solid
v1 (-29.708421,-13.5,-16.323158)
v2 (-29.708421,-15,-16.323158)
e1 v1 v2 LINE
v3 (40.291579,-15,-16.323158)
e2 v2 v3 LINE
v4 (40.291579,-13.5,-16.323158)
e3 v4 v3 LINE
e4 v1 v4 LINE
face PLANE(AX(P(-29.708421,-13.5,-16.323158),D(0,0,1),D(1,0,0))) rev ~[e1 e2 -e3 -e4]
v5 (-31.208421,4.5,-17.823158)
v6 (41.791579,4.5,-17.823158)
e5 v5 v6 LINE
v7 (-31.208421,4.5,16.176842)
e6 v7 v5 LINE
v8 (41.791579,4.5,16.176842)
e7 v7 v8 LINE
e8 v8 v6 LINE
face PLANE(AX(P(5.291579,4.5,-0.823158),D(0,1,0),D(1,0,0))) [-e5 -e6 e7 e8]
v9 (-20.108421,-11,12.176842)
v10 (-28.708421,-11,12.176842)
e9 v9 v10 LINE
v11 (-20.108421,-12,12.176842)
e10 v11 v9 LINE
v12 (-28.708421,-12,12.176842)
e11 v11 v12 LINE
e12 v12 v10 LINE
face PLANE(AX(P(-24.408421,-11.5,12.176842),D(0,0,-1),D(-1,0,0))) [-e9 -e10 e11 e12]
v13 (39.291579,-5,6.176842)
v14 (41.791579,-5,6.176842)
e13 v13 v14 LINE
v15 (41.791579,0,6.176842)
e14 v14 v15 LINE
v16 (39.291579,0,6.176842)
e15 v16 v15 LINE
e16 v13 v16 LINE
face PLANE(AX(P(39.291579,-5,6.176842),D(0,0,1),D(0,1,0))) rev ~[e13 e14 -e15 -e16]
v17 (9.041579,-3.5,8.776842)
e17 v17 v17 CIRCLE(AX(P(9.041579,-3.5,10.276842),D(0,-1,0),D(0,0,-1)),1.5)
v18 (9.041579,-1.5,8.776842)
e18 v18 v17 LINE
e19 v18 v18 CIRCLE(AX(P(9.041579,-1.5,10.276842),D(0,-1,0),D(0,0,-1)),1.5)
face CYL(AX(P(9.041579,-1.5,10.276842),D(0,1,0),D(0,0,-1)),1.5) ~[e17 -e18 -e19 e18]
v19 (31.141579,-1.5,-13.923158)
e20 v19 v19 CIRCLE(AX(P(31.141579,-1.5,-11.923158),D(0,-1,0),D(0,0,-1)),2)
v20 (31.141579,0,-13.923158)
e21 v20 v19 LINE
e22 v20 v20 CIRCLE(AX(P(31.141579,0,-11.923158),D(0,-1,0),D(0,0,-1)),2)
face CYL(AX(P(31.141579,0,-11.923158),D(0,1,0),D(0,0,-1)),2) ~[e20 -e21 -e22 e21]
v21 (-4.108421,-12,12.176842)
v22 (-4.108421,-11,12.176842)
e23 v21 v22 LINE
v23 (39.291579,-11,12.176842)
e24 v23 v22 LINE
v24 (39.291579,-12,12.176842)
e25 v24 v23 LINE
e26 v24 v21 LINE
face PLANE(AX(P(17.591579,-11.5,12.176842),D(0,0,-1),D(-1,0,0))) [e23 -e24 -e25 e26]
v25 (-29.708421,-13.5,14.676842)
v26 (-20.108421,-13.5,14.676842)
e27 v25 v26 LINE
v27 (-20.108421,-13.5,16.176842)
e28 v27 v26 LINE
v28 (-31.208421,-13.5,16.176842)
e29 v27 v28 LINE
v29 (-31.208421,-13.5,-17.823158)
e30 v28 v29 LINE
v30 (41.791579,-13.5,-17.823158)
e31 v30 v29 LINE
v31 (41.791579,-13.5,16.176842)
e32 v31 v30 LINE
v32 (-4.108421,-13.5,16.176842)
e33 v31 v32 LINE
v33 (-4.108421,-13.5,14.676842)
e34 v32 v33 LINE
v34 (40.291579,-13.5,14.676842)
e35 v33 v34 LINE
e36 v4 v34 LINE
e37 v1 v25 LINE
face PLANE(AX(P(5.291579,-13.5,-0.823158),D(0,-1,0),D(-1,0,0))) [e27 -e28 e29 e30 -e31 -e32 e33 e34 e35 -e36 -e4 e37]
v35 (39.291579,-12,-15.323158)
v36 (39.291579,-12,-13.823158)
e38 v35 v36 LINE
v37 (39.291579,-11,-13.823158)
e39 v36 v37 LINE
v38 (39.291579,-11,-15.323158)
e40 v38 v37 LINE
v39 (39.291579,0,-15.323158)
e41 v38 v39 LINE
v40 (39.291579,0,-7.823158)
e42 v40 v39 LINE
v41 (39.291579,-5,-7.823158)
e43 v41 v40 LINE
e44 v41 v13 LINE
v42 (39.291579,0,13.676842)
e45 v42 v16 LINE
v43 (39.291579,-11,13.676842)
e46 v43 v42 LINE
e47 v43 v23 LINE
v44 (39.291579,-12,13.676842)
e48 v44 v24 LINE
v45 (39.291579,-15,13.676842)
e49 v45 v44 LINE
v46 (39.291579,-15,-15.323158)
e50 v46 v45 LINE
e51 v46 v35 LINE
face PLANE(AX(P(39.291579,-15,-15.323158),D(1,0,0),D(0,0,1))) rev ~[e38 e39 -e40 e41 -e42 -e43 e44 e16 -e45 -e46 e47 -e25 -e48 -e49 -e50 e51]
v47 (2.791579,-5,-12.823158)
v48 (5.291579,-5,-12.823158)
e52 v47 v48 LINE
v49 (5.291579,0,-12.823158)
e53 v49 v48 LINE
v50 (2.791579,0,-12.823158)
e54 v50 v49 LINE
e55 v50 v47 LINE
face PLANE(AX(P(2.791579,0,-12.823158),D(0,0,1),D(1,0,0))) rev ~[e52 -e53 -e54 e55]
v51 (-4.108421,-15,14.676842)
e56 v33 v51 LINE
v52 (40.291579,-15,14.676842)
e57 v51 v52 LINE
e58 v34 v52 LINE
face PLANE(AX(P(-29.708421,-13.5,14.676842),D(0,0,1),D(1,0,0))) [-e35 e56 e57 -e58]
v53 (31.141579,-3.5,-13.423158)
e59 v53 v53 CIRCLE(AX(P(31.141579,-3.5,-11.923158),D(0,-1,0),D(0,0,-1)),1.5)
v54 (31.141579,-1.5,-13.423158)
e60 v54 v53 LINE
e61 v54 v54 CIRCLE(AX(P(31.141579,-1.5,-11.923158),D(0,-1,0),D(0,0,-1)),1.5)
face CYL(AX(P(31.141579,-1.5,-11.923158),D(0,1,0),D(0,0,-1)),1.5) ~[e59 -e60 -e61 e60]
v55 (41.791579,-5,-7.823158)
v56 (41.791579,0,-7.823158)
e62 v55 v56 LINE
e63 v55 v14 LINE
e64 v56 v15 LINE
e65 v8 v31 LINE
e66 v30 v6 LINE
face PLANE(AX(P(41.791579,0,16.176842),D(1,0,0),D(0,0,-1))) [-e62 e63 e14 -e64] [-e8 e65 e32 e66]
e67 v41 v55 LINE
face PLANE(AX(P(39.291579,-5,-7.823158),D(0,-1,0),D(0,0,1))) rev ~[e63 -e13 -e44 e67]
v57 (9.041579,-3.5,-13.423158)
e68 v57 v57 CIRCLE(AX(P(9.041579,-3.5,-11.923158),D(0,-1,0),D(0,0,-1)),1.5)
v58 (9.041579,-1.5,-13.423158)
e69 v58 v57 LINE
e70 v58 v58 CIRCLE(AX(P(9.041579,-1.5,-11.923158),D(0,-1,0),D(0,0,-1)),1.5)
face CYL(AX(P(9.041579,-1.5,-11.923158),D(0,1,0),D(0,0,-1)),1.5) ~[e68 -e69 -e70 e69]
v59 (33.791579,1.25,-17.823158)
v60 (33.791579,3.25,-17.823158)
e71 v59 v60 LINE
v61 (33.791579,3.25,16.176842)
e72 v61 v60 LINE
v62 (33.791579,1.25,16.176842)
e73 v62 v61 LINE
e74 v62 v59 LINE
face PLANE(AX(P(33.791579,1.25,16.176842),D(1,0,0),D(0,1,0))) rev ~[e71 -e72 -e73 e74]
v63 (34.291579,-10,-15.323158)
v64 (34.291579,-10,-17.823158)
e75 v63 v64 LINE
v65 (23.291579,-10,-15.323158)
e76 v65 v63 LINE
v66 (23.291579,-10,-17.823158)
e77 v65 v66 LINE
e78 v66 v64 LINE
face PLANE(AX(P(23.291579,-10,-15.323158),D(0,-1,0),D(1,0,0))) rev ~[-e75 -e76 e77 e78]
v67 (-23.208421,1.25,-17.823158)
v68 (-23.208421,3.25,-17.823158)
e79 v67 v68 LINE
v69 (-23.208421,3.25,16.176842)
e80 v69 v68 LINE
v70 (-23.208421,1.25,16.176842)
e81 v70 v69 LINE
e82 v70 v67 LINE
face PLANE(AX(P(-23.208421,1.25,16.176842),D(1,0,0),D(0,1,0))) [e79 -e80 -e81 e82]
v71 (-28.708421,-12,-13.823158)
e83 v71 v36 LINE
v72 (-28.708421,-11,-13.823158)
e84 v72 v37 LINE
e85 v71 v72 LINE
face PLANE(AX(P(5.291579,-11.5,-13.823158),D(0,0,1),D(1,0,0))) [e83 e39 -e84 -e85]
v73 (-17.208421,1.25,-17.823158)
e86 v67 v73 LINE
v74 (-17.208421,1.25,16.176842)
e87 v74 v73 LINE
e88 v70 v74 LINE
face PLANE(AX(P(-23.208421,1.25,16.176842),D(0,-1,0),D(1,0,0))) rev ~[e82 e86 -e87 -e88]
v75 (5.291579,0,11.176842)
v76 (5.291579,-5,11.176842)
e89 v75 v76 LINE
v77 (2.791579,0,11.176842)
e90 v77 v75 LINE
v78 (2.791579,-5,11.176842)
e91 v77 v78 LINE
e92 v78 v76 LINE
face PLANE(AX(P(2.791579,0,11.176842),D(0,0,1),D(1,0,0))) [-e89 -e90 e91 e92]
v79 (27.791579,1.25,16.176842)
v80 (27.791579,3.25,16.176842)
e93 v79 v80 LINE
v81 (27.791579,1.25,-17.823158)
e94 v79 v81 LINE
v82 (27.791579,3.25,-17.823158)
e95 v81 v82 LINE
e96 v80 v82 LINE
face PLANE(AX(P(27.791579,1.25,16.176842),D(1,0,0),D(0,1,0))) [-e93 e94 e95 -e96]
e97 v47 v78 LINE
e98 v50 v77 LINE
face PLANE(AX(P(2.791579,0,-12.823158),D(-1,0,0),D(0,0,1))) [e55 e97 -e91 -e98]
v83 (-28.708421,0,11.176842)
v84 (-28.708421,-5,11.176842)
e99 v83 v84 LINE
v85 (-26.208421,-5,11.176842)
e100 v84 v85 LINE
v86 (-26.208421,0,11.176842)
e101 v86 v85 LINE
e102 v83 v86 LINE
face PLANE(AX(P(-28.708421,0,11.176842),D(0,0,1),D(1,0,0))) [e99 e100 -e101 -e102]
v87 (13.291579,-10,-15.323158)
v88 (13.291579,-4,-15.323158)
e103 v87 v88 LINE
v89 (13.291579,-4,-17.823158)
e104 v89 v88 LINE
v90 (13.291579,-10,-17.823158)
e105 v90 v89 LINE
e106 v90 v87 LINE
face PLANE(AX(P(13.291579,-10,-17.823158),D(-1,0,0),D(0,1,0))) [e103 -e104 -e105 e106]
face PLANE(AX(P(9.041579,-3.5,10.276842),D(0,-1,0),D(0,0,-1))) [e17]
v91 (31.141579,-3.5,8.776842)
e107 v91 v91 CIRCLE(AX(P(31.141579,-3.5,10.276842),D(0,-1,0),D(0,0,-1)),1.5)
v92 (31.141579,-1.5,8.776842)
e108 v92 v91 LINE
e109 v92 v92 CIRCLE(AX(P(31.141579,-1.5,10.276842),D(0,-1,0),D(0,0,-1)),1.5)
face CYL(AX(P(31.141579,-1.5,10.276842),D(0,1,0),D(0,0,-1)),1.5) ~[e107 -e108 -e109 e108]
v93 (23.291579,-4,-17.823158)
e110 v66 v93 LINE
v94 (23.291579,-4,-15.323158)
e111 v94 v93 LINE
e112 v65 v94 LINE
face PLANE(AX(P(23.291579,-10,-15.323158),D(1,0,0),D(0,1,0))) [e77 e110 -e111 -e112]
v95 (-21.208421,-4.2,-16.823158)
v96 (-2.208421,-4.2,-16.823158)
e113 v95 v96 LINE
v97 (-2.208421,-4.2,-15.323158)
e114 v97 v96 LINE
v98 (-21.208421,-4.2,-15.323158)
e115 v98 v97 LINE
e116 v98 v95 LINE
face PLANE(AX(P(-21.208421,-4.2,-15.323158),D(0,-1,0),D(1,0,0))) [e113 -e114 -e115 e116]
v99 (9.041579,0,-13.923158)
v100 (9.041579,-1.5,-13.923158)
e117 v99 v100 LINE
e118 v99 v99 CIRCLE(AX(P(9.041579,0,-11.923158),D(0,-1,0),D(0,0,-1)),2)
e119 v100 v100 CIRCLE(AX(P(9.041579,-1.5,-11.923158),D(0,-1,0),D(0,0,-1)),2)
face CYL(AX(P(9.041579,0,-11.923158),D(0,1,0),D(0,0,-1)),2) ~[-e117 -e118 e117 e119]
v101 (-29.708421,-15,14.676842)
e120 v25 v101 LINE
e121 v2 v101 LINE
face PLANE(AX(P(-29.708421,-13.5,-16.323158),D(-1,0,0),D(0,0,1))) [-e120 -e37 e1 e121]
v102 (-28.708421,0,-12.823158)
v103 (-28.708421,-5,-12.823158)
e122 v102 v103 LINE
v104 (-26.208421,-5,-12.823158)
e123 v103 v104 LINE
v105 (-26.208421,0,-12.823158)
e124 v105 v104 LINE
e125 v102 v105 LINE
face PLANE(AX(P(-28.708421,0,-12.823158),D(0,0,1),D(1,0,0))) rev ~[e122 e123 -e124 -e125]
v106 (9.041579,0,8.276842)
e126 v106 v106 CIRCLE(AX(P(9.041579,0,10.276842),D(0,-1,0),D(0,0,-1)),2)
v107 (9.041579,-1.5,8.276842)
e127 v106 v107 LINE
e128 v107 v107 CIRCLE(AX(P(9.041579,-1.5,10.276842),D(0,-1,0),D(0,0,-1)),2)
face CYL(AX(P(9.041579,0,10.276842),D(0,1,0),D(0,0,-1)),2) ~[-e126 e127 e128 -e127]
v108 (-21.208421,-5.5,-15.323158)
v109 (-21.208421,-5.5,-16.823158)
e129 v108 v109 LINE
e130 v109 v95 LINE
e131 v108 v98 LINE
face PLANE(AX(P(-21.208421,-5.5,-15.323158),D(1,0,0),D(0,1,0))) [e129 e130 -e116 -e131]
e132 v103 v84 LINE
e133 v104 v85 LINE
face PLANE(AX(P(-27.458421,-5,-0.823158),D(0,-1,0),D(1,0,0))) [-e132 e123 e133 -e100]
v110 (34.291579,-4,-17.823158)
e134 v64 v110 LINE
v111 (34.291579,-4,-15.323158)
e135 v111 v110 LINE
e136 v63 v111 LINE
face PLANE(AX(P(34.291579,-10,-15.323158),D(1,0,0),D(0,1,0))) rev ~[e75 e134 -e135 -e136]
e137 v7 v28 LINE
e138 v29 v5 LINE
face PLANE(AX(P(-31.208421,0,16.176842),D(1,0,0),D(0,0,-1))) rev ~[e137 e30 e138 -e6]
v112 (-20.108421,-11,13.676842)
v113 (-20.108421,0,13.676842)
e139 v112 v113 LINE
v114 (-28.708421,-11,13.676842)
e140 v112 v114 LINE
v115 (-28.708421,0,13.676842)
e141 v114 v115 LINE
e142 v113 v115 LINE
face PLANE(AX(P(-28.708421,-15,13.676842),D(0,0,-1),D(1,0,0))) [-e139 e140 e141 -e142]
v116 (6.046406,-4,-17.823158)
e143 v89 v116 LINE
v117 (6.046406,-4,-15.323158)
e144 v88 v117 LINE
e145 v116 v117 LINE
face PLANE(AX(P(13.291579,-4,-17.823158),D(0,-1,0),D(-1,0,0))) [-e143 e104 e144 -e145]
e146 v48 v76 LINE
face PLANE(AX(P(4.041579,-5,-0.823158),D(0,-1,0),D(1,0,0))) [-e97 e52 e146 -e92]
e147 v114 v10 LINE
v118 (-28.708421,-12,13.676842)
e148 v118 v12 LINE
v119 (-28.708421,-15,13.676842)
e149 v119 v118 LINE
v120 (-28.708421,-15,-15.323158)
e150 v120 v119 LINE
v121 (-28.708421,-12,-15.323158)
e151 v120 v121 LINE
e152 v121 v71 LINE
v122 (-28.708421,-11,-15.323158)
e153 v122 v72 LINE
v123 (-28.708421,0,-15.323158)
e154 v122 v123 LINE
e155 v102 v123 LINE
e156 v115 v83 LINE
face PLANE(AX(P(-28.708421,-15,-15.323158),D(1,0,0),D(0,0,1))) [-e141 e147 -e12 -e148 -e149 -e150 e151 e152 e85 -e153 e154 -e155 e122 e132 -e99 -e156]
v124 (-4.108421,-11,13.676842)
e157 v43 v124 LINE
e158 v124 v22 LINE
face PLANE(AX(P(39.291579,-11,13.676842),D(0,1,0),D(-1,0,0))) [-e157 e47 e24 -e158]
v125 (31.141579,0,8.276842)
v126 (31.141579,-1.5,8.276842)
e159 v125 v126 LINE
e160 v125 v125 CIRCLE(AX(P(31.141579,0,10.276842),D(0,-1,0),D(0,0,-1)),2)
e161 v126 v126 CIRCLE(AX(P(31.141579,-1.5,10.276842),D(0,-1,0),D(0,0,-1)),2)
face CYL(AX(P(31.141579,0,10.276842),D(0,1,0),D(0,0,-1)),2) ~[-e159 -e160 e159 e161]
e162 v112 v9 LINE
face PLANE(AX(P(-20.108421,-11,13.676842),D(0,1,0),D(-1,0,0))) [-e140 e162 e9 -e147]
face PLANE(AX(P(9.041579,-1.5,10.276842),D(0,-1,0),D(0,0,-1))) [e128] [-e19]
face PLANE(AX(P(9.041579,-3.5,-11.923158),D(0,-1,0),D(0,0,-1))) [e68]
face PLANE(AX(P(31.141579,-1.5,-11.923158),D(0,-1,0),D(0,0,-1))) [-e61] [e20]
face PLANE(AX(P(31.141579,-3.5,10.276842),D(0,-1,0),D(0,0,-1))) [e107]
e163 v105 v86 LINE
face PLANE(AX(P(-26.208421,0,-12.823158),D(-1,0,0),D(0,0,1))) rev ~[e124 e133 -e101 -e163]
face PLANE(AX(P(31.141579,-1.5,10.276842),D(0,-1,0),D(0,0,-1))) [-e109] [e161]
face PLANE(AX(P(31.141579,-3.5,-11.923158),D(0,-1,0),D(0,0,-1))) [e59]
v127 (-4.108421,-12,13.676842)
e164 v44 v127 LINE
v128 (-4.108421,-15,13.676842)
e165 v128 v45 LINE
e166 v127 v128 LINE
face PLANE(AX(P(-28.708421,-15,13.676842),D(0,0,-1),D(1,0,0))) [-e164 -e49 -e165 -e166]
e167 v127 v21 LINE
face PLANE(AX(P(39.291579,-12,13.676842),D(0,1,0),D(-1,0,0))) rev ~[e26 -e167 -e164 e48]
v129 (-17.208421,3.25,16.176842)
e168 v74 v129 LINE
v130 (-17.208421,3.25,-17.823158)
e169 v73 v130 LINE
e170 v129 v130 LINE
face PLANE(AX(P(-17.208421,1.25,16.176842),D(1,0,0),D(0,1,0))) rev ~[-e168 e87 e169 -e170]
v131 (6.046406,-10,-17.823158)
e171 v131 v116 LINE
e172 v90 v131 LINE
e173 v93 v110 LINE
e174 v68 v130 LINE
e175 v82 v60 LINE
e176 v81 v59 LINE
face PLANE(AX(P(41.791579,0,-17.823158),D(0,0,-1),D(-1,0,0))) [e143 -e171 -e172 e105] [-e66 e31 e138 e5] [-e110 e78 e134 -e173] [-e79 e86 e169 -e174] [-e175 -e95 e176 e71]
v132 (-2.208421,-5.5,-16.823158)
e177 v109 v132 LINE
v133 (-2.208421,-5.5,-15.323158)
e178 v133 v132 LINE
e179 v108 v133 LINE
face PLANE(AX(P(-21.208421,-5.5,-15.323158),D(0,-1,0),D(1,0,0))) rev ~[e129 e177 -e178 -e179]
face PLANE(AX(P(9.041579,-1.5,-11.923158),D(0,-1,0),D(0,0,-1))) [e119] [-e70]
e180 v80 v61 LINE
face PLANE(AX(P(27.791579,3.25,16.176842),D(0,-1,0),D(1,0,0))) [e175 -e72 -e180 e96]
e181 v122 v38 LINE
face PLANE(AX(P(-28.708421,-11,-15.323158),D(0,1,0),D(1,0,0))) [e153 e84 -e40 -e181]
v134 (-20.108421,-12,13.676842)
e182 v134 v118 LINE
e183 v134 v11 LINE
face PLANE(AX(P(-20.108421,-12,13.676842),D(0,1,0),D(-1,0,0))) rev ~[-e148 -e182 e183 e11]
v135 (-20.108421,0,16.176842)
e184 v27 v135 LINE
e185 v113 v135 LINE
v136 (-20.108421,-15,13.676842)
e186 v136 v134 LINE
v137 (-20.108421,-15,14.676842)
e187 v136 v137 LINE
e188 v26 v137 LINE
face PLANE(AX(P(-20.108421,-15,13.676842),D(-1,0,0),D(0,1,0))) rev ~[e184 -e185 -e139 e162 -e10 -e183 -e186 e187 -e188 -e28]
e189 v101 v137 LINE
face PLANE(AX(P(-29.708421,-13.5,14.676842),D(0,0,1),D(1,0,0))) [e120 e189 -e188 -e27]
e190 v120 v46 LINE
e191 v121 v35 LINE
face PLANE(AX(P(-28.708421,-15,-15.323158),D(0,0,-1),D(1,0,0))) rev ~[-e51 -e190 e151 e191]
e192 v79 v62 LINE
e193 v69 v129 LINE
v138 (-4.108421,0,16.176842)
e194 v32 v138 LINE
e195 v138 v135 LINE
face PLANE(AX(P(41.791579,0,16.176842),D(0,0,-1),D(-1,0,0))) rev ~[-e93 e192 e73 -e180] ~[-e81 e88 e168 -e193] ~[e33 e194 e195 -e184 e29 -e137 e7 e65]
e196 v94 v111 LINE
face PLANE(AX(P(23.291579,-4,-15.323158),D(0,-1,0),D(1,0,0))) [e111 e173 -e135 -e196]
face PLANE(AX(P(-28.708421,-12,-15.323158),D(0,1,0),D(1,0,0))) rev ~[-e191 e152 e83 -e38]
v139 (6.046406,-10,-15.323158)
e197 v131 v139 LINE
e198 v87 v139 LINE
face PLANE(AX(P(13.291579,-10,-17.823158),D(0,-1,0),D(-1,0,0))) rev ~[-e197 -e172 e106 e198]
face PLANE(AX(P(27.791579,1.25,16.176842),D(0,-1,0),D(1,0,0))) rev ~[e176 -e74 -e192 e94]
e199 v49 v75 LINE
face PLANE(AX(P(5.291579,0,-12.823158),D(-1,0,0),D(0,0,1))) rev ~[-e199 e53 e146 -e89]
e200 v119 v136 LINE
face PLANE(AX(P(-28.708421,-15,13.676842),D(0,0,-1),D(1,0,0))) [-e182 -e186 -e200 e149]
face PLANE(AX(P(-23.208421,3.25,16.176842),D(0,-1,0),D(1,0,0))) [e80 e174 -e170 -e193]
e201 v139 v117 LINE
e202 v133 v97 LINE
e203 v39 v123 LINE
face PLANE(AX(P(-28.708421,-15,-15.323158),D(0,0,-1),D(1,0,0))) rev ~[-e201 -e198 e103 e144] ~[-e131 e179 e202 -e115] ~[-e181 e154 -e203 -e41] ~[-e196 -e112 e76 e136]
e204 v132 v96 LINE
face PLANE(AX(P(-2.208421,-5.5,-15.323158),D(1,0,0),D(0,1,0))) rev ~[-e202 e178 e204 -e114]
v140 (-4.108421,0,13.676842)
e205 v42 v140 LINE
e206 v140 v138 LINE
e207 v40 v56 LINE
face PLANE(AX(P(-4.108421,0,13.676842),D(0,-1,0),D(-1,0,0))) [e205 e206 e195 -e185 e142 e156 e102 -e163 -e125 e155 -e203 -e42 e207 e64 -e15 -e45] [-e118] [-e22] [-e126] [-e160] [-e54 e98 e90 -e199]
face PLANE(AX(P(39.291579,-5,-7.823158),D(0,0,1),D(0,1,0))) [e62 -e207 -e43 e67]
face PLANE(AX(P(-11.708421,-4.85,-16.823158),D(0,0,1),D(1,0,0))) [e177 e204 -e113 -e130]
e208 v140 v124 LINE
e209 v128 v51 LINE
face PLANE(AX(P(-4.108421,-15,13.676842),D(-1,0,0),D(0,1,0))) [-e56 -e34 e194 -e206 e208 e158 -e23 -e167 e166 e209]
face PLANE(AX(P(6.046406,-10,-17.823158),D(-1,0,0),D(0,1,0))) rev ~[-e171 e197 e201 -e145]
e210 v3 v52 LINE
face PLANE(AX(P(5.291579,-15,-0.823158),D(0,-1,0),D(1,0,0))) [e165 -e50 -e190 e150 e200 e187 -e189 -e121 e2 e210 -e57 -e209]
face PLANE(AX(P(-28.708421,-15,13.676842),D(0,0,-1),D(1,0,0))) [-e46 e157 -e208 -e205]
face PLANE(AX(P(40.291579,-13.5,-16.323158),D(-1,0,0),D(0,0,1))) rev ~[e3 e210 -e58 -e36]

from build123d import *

# Parameters (mm, degrees)
SKETCH1_W             = 73
SKETCH1_H             = 34
BASE_DEPTH            = 4.5
SKETCH21_W            = 73
SKETCH21_H            = 34
EXTRUDE_UP_DEPTH      = 13.5
SKETCH22_W            = 68
SKETCH22_H            = 29
CUT_DOWN_DEPTH        = 13.5
SKETCH27_R            = 2
BOSS_EXTRUDE15_DEPTH  = 1.5
SKETCH29_R            = 2
BOSS_EXTRUDE16_DEPTH  = 1.5
SKETCH30_R            = 2
BOSS_EXTRUDE17_DEPTH  = 1.5
SKETCH28_R            = 2
BOSS_EXTRUDE18_DEPTH  = 1.5
SKETCH31_R            = 1.5
BOSS_EXTRUDE19_DEPTH  = 2
SKETCH32_R            = 1.5
BOSS_EXTRUDE20_DEPTH  = 2
SKETCH33_R            = 1.5
BOSS_EXTRUDE21_DEPTH  = 2
SKETCH34_R            = 1.5
BOSS_EXTRUDE22_DEPTH  = 2
SKETCH39_W            = 19
SKETCH39_H            = 1.3
WALL_SLIT_DEPTH       = 1.5
SKETCH41_W            = 2.5
SKETCH41_H            = 24
OUTSIDE_BLOCK_DEPTH   = 5
SKETCH44_W            = 2.5
SKETCH44_H            = 24
INSIDE_BLOCK_DEPTH    = 5
SKETCH62_W            = 70
SKETCH62_H            = 31
RAISE_LIP_DEPTH       = 1.5
SKETCH74_W            = 16
SKETCH74_H            = 15
USB_HOLE_DEPTH        = 2.5
SKETCH63_W            = 68
SKETCH63_H            = 29
CUT_LIP_DEPTH         = 1.5
SKETCH47_W            = 6
SKETCH47_H            = 2
TOP_TIE_HOLE_DEPTH    = 34
SKETCH48_W            = 6
SKETCH48_H            = 2
BOTTOM_TIE_HOLE_DEPTH = 34
SKETCH56_W            = 14
SKETCH56_H            = 5
WIRE_HOLE_DEPTH       = 2.5
SKETCH68_W            = 68
SKETCH68_H            = 1
RIGHT_LEDGE_DEPTH     = 1.5
SKETCH67_W            = 43.4
SKETCH67_H            = 1
SKETCH67_W_2          = 8.6
LEFT_LEDGE_DEPTH      = 1.5
SKETCH69_W            = 11
SKETCH69_H            = 6
SWITCH_HOLE_DEPTH     = 2.5
SKETCH70_W            = 7.245173121
SKETCH70_H            = 6
POWER_HOLE_DEPTH      = 2.5


with BuildPart() as part:
    # Sketch1 → base (new body)
    with BuildSketch(Plane(origin=(0, 0, 0), x_dir=(1, 0, 0), z_dir=(0, 1, 0))):
        with Locations((5.291578947, 0.823157895)):
            Rectangle(SKETCH1_W, SKETCH1_H)
    extrude(amount=BASE_DEPTH)

    # Sketch21 → extrude up (add)
    with BuildSketch(Plane(origin=(0, 0, 0), x_dir=(-1, 0, 0), z_dir=(0, -1, 0))):
        with Locations((-5.291578947, 0.823157895)):
            Rectangle(SKETCH21_W, SKETCH21_H)
    extrude(amount=EXTRUDE_UP_DEPTH)

    # Sketch22 → cut down (cut)
    with BuildSketch(Plane(origin=(0, -13.5, 0), x_dir=(-1, 0, 0), z_dir=(0, -1, 0))):
        with Locations((-5.291578947, 0.823157895)):
            Rectangle(SKETCH22_W, SKETCH22_H)
    extrude(amount=-CUT_DOWN_DEPTH, mode=Mode.SUBTRACT)

    # Sketch27 → Boss-Extrude15 (add)
    with BuildSketch(Plane.XZ):
        with Locations(Location((31.141578947, -11.923157895, 0), (0, 0, 270))):
            Circle(SKETCH27_R)
    extrude(amount=BOSS_EXTRUDE15_DEPTH)

    # Sketch29 → Boss-Extrude16 (add)
    with BuildSketch(Plane.XZ):
        with Locations(Location((9.041578947, -11.923157895, 0), (0, 0, 270))):
            Circle(SKETCH29_R)
    extrude(amount=BOSS_EXTRUDE16_DEPTH)

    # Sketch30 → Boss-Extrude17 (add)
    with BuildSketch(Plane.XZ):
        with Locations(Location((9.041578947, 10.276842105, 0), (0, 0, 270))):
            Circle(SKETCH30_R)
    extrude(amount=BOSS_EXTRUDE17_DEPTH)

    # Sketch28 → Boss-Extrude18 (add)
    with BuildSketch(Plane.XZ):
        with Locations(Location((31.141578947, 10.276842105, 0), (0, 0, 270))):
            Circle(SKETCH28_R)
    extrude(amount=BOSS_EXTRUDE18_DEPTH)

    # Sketch31 → Boss-Extrude19 (add)
    with BuildSketch(Plane.XZ.offset(1.5)):
        with Locations(Location((31.141578947, -11.923157895, 0), (0, 0, 270))):
            Circle(SKETCH31_R)
    extrude(amount=BOSS_EXTRUDE19_DEPTH)

    # Sketch32 → Boss-Extrude20 (add)
    with BuildSketch(Plane.XZ.offset(1.5)):
        with Locations(Location((9.041578947, -11.923157895, 0), (0, 0, 270))):
            Circle(SKETCH32_R)
    extrude(amount=BOSS_EXTRUDE20_DEPTH)

    # Sketch33 → Boss-Extrude21 (add)
    with BuildSketch(Plane.XZ.offset(1.5)):
        with Locations(Location((9.041578947, 10.276842105, 0), (0, 0, 270))):
            Circle(SKETCH33_R)
    extrude(amount=BOSS_EXTRUDE21_DEPTH)

    # Sketch34 → Boss-Extrude22 (add)
    with BuildSketch(Plane.XZ.offset(1.5)):
        with Locations(Location((31.141578947, 10.276842105, 0), (0, 0, 270))):
            Circle(SKETCH34_R)
    extrude(amount=BOSS_EXTRUDE22_DEPTH)

    # Sketch39 → wall slit (cut)
    with BuildSketch(Plane.XY.offset(-15.323157895)):
        with Locations((-11.708421053, -4.85)):
            Rectangle(SKETCH39_W, SKETCH39_H)
    extrude(amount=-WALL_SLIT_DEPTH, mode=Mode.SUBTRACT)

    # Sketch41 → outside block (add)
    with BuildSketch(Plane.XZ):
        with Locations((-27.458421053, -0.823157895)):
            Rectangle(SKETCH41_W, SKETCH41_H)
    extrude(amount=OUTSIDE_BLOCK_DEPTH)

    # Sketch44 → inside block (add)
    with BuildSketch(Plane.XZ):
        with Locations((4.041578947, -0.823157895)):
            Rectangle(SKETCH44_W, SKETCH44_H)
    extrude(amount=INSIDE_BLOCK_DEPTH)

    # Sketch62 → raise lip (add)
    with BuildSketch(Plane.XZ.offset(13.5)):
        with Locations((5.291578947, -0.823157895)):
            Rectangle(SKETCH62_W, SKETCH62_H)
    extrude(amount=RAISE_LIP_DEPTH)

    # Sketch74 → usb hole (cut)
    with BuildSketch(Plane(origin=(0, 0, 13.676842105), x_dir=(-1, 0, 0), z_dir=(0, 0, -1))):
        with Locations((12.108421053, -7.5)):
            Rectangle(SKETCH74_W, SKETCH74_H)
    extrude(amount=-USB_HOLE_DEPTH, mode=Mode.SUBTRACT)

    # Sketch63 → cut lip (cut)
    with BuildSketch(Plane.XZ.offset(15)):
        with Locations((5.291578947, -0.823157895)):
            Rectangle(SKETCH63_W, SKETCH63_H)
    extrude(amount=-CUT_LIP_DEPTH, mode=Mode.SUBTRACT)

    # Sketch47 → top tie hole (cut)
    with BuildSketch(Plane.XY.offset(16.176842105)):
        with Locations((30.791578947, 2.25)):
            Rectangle(SKETCH47_W, SKETCH47_H)
    extrude(amount=-TOP_TIE_HOLE_DEPTH, mode=Mode.SUBTRACT)

    # Sketch48 → bottom tie hole (cut)
    with BuildSketch(Plane.XY.offset(16.176842105)):
        with Locations((-20.208421053, 2.25)):
            Rectangle(SKETCH48_W, SKETCH48_H)
    extrude(amount=-BOTTOM_TIE_HOLE_DEPTH, mode=Mode.SUBTRACT)

    # Sketch56 → wire hole (cut)
    with BuildSketch(Plane.ZY.offset(-39.291578947)):
        with Locations((-0.823157895, -2.5)):
            Rectangle(SKETCH56_W, SKETCH56_H)
    extrude(amount=-WIRE_HOLE_DEPTH, mode=Mode.SUBTRACT)

    # Sketch68 → right ledge (add)
    with BuildSketch(Plane.XY.offset(-15.323157895)):
        with Locations((5.291578947, -11.5)):
            Rectangle(SKETCH68_W, SKETCH68_H)
    extrude(amount=RIGHT_LEDGE_DEPTH)

    # Sketch67 → left ledge (add)
    with BuildSketch(Plane(origin=(0, 0, 13.676842105), x_dir=(-1, 0, 0), z_dir=(0, 0, -1))):
        with Locations((-17.591578947, -11.5)):
            Rectangle(SKETCH67_W, SKETCH67_H)
        with Locations((24.408421053, -11.5)):
            Rectangle(SKETCH67_W_2, SKETCH67_H)
    extrude(amount=LEFT_LEDGE_DEPTH)

    # Sketch69 → switch hole (cut)
    with BuildSketch(Plane.XY.offset(-15.323157895)):
        with Locations((28.791578947, -7)):
            Rectangle(SKETCH69_W, SKETCH69_H)
    extrude(amount=-SWITCH_HOLE_DEPTH, mode=Mode.SUBTRACT)

    # Sketch70 → power hole (cut)
    with BuildSketch(Plane(origin=(0, 0, -17.823157895), x_dir=(-1, 0, 0), z_dir=(0, 0, -1))):
        with Locations((-9.668992387, -7)):
            Rectangle(SKETCH70_W, SKETCH70_H)
    extrude(amount=-POWER_HOLE_DEPTH, mode=Mode.SUBTRACT)


solid = part.part
